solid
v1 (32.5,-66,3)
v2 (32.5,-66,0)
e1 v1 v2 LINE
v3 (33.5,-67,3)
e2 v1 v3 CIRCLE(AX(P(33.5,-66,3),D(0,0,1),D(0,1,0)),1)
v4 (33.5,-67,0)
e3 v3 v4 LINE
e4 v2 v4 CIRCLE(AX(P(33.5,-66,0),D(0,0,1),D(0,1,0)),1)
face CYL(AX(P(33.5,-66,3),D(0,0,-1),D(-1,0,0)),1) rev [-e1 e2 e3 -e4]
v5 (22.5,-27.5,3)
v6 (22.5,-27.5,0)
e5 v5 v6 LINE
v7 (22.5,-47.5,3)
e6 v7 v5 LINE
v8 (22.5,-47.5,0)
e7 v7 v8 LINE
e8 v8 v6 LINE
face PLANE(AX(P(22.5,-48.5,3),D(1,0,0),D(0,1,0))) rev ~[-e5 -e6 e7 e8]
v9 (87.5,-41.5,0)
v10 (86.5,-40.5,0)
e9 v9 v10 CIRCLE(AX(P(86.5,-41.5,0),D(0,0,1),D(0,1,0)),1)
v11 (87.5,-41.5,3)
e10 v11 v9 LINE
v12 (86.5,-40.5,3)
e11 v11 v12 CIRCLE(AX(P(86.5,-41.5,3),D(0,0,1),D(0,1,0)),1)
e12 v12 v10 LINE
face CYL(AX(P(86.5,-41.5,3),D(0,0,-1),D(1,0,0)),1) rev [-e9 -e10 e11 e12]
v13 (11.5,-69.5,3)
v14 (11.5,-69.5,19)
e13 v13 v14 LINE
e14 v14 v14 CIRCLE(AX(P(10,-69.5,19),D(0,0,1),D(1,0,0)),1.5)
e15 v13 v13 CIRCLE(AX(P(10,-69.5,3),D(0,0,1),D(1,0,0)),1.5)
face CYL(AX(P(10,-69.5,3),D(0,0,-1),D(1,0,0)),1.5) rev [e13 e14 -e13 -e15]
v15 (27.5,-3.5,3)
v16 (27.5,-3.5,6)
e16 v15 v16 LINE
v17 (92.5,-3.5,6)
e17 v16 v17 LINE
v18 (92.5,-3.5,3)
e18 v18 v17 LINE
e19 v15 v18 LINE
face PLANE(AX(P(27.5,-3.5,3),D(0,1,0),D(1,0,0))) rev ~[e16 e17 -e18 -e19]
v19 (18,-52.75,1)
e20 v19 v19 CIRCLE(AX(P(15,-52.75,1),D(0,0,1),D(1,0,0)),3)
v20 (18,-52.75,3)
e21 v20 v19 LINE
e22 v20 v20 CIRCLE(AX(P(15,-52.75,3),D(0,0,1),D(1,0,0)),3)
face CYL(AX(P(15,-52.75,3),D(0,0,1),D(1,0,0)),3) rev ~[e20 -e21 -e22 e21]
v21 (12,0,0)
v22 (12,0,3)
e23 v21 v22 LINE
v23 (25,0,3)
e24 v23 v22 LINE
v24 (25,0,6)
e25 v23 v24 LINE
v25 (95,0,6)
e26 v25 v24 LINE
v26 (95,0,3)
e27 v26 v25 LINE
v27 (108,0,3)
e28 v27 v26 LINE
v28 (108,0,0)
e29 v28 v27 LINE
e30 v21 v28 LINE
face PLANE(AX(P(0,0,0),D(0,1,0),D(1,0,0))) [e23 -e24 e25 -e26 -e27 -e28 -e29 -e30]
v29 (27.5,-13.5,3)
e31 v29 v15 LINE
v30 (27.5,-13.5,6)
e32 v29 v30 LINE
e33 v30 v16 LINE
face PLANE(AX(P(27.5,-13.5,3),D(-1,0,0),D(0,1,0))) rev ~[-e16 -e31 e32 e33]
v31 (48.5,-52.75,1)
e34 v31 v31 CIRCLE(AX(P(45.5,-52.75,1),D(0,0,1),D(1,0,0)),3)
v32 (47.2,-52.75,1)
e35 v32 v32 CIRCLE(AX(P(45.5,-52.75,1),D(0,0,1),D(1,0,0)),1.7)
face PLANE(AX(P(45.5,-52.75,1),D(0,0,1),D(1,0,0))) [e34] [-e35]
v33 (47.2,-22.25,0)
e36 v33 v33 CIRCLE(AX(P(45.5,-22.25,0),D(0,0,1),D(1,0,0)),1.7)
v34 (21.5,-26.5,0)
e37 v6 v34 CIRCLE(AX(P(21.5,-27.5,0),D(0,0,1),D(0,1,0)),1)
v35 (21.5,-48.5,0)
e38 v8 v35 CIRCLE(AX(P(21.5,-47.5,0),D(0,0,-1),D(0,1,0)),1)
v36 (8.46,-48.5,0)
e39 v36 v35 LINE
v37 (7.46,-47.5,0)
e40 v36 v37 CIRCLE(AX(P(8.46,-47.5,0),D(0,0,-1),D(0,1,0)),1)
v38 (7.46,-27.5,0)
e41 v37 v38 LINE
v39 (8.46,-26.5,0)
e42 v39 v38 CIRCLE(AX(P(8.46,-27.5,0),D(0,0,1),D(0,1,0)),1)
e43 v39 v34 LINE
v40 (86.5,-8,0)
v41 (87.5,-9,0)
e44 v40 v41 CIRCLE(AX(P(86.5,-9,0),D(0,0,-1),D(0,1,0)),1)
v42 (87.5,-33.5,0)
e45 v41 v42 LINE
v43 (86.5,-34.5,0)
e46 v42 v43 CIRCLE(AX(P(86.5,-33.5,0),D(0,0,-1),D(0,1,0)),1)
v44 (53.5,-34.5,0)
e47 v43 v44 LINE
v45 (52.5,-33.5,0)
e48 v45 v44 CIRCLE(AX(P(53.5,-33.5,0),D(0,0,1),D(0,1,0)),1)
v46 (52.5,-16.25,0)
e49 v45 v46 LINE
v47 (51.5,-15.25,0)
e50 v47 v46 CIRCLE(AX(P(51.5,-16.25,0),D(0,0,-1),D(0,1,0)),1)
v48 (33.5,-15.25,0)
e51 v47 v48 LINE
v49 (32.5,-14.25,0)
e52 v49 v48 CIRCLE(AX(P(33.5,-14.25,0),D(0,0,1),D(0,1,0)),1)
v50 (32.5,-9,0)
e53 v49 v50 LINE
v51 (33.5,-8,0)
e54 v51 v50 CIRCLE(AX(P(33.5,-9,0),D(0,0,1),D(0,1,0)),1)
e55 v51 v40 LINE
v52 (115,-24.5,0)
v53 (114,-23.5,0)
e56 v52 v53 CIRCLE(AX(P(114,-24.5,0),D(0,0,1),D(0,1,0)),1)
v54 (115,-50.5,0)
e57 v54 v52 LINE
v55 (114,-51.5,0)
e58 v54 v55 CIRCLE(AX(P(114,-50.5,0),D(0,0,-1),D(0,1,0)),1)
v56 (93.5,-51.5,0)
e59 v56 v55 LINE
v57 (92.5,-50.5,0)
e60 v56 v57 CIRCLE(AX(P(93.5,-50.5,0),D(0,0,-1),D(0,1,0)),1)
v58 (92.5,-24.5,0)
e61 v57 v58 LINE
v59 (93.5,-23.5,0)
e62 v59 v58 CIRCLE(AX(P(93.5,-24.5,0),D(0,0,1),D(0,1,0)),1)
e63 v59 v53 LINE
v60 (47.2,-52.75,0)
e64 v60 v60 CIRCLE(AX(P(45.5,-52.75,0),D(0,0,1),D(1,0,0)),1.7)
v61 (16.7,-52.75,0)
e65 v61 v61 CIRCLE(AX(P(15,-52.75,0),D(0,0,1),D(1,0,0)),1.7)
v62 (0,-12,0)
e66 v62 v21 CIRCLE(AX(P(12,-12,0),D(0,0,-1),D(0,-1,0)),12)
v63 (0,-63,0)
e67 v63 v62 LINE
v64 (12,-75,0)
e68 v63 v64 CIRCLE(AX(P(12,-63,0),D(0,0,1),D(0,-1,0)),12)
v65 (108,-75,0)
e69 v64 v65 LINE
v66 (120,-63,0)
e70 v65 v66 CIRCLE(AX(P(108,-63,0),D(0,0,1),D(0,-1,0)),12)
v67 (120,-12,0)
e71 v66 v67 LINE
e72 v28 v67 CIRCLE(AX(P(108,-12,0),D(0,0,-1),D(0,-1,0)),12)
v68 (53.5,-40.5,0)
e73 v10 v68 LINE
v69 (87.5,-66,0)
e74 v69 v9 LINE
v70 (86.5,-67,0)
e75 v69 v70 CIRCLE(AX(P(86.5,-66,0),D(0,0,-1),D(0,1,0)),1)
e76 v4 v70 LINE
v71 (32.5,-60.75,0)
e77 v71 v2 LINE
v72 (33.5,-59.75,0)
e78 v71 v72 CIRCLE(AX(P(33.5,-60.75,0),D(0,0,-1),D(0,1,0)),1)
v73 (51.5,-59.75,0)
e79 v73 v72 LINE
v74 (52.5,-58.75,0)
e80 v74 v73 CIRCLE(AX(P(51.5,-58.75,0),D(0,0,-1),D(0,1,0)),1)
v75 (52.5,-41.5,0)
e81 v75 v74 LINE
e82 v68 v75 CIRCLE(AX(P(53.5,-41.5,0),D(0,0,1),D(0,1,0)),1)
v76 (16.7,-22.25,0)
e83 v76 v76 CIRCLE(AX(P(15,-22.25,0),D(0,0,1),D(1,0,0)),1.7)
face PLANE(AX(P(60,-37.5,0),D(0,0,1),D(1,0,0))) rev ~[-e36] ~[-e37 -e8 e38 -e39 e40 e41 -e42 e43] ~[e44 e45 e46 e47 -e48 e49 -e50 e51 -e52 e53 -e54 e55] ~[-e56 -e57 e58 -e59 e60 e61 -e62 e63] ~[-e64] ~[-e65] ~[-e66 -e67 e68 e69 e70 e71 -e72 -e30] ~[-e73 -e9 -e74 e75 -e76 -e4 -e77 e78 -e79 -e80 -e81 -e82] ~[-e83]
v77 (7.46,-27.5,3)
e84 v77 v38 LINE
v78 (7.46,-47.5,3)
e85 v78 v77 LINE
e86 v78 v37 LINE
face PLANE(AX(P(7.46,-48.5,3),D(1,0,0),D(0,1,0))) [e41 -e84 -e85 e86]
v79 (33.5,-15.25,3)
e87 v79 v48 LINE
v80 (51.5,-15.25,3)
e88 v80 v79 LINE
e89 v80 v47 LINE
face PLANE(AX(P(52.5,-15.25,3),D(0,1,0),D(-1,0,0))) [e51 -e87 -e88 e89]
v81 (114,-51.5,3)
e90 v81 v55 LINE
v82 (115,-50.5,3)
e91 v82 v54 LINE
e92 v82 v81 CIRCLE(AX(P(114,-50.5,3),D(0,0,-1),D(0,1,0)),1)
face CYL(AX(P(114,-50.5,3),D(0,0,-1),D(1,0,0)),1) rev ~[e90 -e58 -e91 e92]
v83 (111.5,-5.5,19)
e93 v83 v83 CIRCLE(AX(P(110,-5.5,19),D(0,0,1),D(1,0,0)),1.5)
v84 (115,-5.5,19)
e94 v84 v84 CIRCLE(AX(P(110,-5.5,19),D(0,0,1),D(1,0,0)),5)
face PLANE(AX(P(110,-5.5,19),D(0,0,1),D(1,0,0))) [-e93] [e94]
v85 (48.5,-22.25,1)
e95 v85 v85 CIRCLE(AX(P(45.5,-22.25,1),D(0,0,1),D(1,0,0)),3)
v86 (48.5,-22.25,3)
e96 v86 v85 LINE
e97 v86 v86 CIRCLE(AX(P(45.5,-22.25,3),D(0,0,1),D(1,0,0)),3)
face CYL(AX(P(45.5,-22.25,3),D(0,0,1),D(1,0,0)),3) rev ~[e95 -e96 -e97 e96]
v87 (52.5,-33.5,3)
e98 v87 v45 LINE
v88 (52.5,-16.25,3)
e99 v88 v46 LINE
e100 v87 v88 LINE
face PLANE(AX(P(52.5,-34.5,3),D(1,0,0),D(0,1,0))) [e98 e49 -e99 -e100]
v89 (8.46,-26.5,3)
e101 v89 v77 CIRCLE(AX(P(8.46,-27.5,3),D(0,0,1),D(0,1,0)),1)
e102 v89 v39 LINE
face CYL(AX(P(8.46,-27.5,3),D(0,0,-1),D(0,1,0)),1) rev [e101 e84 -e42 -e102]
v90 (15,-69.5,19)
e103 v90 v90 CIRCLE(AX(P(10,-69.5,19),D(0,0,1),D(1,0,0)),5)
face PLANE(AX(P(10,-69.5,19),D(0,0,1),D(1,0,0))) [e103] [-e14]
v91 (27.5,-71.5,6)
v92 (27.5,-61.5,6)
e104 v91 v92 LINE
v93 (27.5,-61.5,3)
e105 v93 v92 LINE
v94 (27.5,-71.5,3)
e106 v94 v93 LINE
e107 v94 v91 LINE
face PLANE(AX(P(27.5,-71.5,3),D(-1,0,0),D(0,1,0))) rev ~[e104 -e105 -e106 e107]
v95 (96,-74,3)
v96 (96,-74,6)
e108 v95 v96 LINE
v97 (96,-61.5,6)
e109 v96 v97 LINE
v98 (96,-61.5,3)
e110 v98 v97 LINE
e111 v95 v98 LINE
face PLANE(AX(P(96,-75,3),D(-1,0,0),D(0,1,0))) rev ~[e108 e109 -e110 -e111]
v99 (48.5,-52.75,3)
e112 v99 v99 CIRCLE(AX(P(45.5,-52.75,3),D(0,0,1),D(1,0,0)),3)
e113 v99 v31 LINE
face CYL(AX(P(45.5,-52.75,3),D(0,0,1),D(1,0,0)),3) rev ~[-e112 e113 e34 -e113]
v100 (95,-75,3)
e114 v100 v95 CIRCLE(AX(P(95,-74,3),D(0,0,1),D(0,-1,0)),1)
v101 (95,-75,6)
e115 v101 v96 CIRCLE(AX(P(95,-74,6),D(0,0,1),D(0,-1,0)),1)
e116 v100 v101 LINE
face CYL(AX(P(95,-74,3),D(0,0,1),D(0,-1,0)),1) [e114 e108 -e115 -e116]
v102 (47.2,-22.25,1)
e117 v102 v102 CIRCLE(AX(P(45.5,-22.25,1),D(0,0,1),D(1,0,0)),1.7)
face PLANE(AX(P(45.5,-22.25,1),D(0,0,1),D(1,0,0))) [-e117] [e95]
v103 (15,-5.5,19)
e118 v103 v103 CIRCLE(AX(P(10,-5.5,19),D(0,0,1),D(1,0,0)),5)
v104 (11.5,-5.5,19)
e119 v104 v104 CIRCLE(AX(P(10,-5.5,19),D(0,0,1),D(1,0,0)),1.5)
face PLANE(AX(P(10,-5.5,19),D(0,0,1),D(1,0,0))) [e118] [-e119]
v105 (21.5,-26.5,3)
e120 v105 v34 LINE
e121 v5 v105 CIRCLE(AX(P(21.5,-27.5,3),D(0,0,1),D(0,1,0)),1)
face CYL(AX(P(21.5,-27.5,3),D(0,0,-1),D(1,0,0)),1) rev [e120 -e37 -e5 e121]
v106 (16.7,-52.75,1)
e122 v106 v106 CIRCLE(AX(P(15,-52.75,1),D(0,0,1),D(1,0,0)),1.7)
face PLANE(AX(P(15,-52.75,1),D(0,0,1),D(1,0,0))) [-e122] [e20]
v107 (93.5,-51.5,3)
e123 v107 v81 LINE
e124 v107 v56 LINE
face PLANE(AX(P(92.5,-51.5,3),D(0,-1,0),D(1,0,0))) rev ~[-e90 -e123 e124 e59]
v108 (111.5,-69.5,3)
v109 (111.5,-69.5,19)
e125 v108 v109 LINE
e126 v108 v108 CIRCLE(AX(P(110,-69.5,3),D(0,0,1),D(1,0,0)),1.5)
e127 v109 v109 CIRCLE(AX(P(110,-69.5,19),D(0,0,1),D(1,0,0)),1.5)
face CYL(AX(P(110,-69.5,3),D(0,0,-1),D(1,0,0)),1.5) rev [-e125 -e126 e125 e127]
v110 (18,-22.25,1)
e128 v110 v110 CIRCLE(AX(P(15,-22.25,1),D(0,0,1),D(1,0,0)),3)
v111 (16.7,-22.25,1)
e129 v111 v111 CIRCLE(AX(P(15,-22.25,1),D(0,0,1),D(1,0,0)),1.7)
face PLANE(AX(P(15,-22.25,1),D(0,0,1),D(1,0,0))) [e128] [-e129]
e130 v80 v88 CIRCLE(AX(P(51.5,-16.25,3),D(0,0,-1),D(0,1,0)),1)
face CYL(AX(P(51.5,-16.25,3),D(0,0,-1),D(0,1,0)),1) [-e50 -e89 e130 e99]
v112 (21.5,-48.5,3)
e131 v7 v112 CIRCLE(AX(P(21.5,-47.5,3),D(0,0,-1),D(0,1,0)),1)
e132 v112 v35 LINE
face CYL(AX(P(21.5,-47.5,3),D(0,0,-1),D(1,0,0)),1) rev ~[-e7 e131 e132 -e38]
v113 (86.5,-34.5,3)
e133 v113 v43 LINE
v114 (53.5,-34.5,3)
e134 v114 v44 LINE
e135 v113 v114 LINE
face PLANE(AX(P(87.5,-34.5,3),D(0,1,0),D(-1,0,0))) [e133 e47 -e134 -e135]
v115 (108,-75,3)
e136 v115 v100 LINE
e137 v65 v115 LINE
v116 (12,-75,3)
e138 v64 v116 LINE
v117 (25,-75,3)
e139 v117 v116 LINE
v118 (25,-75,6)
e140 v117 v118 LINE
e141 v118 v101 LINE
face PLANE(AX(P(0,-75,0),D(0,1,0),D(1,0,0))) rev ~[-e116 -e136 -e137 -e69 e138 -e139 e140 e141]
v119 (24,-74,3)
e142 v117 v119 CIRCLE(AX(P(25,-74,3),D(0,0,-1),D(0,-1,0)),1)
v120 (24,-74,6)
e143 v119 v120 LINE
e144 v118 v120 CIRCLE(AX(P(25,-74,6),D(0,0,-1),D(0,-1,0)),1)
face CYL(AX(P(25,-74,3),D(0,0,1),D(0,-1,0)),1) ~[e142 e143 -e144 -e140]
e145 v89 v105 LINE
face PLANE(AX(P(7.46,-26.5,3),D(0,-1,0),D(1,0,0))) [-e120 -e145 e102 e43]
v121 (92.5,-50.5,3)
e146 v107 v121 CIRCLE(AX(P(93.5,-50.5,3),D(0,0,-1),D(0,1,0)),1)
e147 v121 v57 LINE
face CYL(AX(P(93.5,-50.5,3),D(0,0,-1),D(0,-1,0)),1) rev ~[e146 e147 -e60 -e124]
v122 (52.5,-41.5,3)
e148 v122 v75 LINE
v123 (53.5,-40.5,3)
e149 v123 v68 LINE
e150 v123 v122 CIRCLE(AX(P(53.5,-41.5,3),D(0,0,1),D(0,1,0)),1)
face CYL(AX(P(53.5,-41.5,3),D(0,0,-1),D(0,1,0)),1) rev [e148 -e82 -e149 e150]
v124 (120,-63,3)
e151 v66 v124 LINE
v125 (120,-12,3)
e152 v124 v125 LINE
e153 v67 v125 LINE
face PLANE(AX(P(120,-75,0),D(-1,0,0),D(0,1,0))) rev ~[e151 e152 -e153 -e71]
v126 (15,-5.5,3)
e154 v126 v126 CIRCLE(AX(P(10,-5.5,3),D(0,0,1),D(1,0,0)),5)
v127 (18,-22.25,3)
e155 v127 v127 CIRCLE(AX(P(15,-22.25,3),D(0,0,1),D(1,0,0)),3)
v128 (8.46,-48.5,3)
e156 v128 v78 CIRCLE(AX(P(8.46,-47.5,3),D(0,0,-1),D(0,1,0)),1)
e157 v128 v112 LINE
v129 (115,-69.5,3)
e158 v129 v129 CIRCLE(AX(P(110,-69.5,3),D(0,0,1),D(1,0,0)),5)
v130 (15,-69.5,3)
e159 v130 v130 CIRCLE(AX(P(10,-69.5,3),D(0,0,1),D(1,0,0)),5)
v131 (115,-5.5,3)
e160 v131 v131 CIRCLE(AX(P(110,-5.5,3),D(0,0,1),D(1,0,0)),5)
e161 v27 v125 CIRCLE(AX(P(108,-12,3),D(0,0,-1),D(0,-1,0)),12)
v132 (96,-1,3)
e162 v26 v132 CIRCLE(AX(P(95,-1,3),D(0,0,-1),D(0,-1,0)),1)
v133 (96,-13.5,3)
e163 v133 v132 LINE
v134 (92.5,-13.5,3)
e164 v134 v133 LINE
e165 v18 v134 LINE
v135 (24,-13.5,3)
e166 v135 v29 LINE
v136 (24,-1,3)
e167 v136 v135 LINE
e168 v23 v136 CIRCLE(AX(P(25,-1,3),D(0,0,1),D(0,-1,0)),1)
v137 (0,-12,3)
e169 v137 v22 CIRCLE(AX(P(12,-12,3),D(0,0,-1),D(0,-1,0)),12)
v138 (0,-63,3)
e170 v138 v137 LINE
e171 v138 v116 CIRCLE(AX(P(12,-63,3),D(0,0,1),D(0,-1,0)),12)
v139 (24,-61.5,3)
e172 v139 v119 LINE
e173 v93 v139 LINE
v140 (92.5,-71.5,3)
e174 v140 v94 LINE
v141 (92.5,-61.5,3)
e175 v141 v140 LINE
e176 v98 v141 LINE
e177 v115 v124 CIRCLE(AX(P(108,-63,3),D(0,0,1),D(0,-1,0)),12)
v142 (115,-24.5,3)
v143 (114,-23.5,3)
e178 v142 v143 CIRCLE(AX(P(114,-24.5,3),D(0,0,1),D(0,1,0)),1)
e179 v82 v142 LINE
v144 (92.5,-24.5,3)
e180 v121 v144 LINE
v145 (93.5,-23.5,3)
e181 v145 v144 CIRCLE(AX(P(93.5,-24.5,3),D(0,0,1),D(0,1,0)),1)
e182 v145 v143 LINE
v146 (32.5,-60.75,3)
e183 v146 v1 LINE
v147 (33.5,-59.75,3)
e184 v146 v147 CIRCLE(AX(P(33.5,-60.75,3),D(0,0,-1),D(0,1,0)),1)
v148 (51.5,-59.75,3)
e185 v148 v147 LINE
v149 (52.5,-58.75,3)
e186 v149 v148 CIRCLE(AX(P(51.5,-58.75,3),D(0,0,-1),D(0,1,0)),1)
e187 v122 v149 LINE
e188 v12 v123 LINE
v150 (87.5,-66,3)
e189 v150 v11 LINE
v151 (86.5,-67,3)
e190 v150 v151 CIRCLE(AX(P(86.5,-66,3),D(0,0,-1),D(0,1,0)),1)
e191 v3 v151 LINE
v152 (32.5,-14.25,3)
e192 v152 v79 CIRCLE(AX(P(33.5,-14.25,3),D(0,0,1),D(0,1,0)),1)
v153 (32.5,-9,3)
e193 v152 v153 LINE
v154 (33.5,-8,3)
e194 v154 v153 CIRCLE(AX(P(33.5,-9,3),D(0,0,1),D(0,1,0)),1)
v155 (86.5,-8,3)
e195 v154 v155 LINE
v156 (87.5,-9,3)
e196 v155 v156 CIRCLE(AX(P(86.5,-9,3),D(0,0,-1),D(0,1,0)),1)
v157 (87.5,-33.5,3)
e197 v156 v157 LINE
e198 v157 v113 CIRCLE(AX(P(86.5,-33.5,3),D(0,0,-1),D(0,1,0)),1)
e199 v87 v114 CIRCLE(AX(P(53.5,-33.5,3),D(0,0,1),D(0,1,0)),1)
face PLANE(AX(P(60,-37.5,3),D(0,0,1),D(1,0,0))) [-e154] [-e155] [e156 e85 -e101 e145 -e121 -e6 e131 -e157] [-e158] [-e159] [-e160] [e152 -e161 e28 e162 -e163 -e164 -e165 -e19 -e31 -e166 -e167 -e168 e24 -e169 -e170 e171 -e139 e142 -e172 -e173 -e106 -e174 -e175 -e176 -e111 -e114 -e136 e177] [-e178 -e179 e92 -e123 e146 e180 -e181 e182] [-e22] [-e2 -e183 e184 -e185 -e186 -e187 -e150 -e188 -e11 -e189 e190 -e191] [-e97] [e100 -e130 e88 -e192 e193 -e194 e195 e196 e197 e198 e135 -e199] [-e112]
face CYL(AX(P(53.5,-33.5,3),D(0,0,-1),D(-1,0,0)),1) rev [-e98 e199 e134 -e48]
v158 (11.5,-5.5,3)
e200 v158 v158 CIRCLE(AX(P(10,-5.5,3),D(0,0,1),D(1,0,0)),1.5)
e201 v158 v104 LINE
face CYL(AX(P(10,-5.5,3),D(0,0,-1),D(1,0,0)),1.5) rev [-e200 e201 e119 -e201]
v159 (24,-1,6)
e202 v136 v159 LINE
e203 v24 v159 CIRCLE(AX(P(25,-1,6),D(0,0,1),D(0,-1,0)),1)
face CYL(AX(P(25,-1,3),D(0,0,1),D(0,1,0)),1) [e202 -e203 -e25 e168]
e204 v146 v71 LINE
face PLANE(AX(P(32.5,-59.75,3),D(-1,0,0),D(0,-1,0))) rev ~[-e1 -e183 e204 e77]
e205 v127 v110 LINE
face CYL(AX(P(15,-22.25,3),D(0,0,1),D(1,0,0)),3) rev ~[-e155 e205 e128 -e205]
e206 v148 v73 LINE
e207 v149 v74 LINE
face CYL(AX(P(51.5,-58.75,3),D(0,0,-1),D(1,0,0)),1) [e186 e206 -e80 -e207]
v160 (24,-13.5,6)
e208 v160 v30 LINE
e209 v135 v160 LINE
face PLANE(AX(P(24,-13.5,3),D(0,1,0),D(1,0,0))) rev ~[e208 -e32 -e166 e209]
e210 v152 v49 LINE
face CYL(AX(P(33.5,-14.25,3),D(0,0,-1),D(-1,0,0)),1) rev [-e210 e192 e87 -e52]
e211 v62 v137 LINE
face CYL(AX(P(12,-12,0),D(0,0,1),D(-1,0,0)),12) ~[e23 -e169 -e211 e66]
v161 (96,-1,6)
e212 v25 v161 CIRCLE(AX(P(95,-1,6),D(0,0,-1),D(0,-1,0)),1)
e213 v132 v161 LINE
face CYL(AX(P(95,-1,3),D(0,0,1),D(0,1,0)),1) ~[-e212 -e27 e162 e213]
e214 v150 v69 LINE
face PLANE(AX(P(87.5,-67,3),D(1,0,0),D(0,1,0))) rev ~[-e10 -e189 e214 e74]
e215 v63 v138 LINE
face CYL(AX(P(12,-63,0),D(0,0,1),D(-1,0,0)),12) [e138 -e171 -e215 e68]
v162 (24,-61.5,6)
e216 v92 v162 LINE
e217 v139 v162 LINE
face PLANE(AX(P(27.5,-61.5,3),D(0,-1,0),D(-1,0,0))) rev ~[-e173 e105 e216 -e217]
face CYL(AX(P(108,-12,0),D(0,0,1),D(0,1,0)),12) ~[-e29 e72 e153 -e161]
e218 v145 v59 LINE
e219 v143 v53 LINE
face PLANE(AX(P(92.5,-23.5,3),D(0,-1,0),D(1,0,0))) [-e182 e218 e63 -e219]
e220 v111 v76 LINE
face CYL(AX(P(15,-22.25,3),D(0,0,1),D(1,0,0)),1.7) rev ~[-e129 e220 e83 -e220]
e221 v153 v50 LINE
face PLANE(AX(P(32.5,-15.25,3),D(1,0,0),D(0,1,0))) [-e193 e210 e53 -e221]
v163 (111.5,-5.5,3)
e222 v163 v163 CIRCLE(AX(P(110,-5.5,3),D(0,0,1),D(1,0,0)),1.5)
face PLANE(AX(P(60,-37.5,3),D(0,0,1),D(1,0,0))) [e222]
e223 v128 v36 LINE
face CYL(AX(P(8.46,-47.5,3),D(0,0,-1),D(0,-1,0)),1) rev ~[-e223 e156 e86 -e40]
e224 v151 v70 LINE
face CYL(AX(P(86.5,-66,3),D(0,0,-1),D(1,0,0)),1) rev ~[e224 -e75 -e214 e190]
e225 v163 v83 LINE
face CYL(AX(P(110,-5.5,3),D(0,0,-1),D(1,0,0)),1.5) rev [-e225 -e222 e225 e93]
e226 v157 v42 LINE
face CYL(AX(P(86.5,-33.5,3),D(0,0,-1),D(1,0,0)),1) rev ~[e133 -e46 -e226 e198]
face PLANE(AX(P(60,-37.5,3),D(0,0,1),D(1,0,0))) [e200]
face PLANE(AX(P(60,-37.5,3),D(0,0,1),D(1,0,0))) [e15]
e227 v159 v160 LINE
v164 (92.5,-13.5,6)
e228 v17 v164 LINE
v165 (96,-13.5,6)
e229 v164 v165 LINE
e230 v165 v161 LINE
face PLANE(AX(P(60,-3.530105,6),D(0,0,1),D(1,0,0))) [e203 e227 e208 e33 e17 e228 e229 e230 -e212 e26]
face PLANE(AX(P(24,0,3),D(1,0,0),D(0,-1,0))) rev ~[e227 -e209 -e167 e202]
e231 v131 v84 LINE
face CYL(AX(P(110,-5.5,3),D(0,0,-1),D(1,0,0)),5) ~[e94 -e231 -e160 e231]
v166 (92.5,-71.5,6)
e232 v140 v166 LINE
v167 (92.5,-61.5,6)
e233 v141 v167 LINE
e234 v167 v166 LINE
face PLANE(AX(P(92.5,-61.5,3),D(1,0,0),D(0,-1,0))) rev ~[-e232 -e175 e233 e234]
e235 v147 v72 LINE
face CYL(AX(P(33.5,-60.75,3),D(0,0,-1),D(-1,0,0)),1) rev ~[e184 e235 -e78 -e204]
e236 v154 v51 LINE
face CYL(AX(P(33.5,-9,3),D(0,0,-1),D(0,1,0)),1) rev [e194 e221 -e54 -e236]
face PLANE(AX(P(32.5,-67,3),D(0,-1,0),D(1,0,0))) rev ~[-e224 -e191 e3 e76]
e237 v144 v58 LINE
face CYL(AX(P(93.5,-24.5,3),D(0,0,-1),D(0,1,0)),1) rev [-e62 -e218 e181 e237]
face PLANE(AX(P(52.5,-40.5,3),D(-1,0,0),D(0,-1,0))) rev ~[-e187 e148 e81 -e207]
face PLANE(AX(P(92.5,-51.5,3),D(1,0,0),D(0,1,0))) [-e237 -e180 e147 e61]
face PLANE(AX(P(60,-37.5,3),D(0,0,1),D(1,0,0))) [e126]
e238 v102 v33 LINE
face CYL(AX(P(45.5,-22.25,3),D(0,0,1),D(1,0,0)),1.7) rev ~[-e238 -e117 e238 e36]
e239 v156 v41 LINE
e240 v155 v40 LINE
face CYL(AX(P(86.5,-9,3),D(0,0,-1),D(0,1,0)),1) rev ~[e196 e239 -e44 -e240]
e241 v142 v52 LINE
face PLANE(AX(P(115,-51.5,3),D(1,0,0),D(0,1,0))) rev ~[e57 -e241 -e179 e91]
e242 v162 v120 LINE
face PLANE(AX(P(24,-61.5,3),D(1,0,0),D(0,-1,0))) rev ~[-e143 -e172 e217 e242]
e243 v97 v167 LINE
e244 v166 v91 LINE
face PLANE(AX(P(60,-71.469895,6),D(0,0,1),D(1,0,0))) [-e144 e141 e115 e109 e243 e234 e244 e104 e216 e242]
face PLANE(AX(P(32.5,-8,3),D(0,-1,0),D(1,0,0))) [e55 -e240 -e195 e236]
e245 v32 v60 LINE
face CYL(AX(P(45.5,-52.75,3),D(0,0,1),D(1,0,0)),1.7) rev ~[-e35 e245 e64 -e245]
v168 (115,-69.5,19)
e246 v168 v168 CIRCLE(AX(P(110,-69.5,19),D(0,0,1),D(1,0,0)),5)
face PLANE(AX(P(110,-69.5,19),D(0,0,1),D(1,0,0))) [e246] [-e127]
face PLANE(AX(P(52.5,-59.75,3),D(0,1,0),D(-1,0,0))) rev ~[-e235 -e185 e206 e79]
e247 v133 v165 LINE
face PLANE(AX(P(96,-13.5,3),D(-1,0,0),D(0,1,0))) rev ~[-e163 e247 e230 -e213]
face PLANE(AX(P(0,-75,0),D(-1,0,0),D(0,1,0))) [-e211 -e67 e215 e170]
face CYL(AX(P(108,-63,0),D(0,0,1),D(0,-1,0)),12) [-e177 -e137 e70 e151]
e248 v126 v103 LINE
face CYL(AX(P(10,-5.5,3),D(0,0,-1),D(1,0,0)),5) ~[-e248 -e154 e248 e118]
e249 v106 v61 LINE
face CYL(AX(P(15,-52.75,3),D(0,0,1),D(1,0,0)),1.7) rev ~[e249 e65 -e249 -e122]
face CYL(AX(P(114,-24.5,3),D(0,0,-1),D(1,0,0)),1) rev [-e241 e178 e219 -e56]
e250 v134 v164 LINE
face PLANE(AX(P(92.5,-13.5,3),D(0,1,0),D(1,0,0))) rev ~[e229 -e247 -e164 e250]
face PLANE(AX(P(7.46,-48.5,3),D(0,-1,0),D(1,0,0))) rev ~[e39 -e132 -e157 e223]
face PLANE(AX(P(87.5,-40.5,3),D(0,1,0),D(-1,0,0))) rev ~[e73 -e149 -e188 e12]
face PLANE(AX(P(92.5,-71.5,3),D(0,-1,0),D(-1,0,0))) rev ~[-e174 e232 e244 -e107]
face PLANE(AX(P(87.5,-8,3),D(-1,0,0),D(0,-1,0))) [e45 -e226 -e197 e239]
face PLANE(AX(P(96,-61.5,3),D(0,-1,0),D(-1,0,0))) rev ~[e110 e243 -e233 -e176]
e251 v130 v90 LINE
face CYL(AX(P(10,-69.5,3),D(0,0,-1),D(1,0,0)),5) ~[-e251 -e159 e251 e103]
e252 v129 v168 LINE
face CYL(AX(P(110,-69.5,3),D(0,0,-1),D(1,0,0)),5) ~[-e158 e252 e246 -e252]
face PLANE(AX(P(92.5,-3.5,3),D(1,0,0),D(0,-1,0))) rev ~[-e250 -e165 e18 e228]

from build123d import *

# Parameters (mm, degrees)
SKETCH_W        = 120
SKETCH_H        = 75
PAD_DEPTH       = 3
PAD001_DEPTH    = 3
SKETCH002_R     = 5
SKETCH002_R_2   = 1.5
PAD002_DEPTH    = 16
SKETCH003_R     = 1.7
SKETCH003_W     = 15.04
SKETCH003_H     = 22
SKETCH003_W_2   = 22.5
SKETCH003_H_2   = 28
POCKET_DEPTH    = 3.001
SKETCH004_R     = 3
POCKET001_DEPTH = 2
FILLET_R        = 12
FILLET001_R     = 1
FILLET002_R     = 1
FILLET003_R     = 1
FILLET004_R     = 1
FILLET005_R     = 1
FILLET006_R     = 1


with BuildPart() as part:
    # Sketch → Pad (new body)
    with BuildSketch(Plane.XY):
        with Locations((60, -37.5)):
            Rectangle(SKETCH_W, SKETCH_H)
    extrude(amount=PAD_DEPTH)

    # Sketch001 → Pad001 (new body)
    with BuildSketch(Plane.XY.offset(3)):
        Polygon((27.5, -3.5), (92.5, -3.5), (92.5, -13.5), (96, -13.5), (96, 0), (24, 0), (24, -13.5), (27.5, -13.5), align=None)
        Polygon((92.5, -71.5), (27.5, -71.5), (27.5, -61.5), (24, -61.5), (24, -75), (96, -75), (96, -61.5), (92.5, -61.5), align=None)
    extrude(amount=PAD001_DEPTH)

    # Sketch002 → Pad002 (new body)
    with BuildSketch(Plane.XY.offset(3)):
        with Locations((10, -5.5)):
            Circle(SKETCH002_R)
        with Locations((10, -5.5)):
            Circle(SKETCH002_R_2, mode=Mode.SUBTRACT)
        with Locations((110, -5.5)):
            Circle(SKETCH002_R)
        with Locations((110, -5.5)):
            Circle(SKETCH002_R_2, mode=Mode.SUBTRACT)
        with Locations((110, -69.5)):
            Circle(SKETCH002_R)
        with Locations((110, -69.5)):
            Circle(SKETCH002_R_2, mode=Mode.SUBTRACT)
        with Locations((10, -69.5)):
            Circle(SKETCH002_R)
        with Locations((10, -69.5)):
            Circle(SKETCH002_R_2, mode=Mode.SUBTRACT)
    extrude(amount=PAD002_DEPTH)

    # Sketch003 → Pocket (cut, through all)
    with BuildSketch(Plane.XY.offset(3)):
        with Locations((15, -22.25)):
            Circle(SKETCH003_R)
        with Locations((45.5, -22.25)):
            Circle(SKETCH003_R)
        with Locations((15, -52.75)):
            Circle(SKETCH003_R)
        with Locations((45.5, -52.75)):
            Circle(SKETCH003_R)
        with Locations((14.98, -37.5)):
            Rectangle(SKETCH003_W, SKETCH003_H)
        Polygon((32.5, -8), (87.5, -8), (87.5, -34.5), (52.5, -34.5), (52.5, -15.25), (32.5, -15.25), align=None)
        Polygon((32.5, -59.75), (32.5, -67), (87.5, -67), (87.5, -40.5), (52.5, -40.5), (52.5, -59.75), align=None)
        with Locations((103.75, -37.5)):
            Rectangle(SKETCH003_W_2, SKETCH003_H_2)
    extrude(amount=-POCKET_DEPTH, mode=Mode.SUBTRACT)

    # Sketch004 → Pocket001 (cut)
    with BuildSketch(Plane.XY.offset(3)):
        with Locations((45.5, -22.25)):
            Circle(SKETCH004_R)
        with Locations((15, -22.25)):
            Circle(SKETCH004_R)
        with Locations((15, -52.75)):
            Circle(SKETCH004_R)
        with Locations((45.5, -52.75)):
            Circle(SKETCH004_R)
    extrude(amount=-POCKET001_DEPTH, mode=Mode.SUBTRACT)

    # Fillet
    fillet_edges = [part.edges().sort_by_distance(p)[0] for p in [
        (0, -75, 1.5),
        (0, 0, 1.5),
        (120, 0, 1.5),
        (120, -75, 1.5),
    ]]
    fillet(fillet_edges, radius=FILLET_R)

    # Fillet001
    fillet001_edges = [part.edges().sort_by_distance(p)[0] for p in [
        (52.5, -15.25, 1.5),
        (52.5, -34.5, 1.5),
        (52.5, -59.75, 1.5),
        (32.5, -67, 1.5),
        (92.5, -51.5, 1.5),
        (32.5, -15.25, 1.5),
        (7.46, -48.5, 1.5),
    ]]
    fillet(fillet001_edges, radius=FILLET001_R)

    # Fillet002
    fillet002_edges = [part.edges().sort_by_distance(p)[0] for p in [
        (115, -23.5, 1.5),
        (87.5, -40.5, 1.5),
        (87.5, -8, 1.5),
        (22.5, -26.5, 1.5),
    ]]
    fillet(fillet002_edges, radius=FILLET002_R)

    # Fillet003
    fillet003_edges = [part.edges().sort_by_distance(p)[0] for p in [
        (52.5, -40.5, 1.5),
        (32.5, -8, 1.5),
        (92.5, -23.5, 1.5),
        (7.46, -26.5, 1.5),
    ]]
    fillet(fillet003_edges, radius=FILLET003_R)

    # Fillet004
    fillet004_edges = [part.edges().sort_by_distance(p)[0] for p in [
        (22.5, -48.5, 1.5),
        (87.5, -34.5, 1.5),
        (87.5, -67, 1.5),
        (115, -51.5, 1.5),
    ]]
    fillet(fillet004_edges, radius=FILLET004_R)

    # Fillet005
    fillet005_edges = [part.edges().sort_by_distance(p)[0] for p in [
        (32.5, -59.75, 1.5),
    ]]
    fillet(fillet005_edges, radius=FILLET005_R)

    # Fillet006
    fillet006_edges = [part.edges().sort_by_distance(p)[0] for p in [
        (24, 0, 4.5),
        (96, 0, 4.5),
        (24, -75, 4.5),
        (96, -75, 4.5),
    ]]
    fillet(fillet006_edges, radius=FILLET006_R)


solid = part.part
